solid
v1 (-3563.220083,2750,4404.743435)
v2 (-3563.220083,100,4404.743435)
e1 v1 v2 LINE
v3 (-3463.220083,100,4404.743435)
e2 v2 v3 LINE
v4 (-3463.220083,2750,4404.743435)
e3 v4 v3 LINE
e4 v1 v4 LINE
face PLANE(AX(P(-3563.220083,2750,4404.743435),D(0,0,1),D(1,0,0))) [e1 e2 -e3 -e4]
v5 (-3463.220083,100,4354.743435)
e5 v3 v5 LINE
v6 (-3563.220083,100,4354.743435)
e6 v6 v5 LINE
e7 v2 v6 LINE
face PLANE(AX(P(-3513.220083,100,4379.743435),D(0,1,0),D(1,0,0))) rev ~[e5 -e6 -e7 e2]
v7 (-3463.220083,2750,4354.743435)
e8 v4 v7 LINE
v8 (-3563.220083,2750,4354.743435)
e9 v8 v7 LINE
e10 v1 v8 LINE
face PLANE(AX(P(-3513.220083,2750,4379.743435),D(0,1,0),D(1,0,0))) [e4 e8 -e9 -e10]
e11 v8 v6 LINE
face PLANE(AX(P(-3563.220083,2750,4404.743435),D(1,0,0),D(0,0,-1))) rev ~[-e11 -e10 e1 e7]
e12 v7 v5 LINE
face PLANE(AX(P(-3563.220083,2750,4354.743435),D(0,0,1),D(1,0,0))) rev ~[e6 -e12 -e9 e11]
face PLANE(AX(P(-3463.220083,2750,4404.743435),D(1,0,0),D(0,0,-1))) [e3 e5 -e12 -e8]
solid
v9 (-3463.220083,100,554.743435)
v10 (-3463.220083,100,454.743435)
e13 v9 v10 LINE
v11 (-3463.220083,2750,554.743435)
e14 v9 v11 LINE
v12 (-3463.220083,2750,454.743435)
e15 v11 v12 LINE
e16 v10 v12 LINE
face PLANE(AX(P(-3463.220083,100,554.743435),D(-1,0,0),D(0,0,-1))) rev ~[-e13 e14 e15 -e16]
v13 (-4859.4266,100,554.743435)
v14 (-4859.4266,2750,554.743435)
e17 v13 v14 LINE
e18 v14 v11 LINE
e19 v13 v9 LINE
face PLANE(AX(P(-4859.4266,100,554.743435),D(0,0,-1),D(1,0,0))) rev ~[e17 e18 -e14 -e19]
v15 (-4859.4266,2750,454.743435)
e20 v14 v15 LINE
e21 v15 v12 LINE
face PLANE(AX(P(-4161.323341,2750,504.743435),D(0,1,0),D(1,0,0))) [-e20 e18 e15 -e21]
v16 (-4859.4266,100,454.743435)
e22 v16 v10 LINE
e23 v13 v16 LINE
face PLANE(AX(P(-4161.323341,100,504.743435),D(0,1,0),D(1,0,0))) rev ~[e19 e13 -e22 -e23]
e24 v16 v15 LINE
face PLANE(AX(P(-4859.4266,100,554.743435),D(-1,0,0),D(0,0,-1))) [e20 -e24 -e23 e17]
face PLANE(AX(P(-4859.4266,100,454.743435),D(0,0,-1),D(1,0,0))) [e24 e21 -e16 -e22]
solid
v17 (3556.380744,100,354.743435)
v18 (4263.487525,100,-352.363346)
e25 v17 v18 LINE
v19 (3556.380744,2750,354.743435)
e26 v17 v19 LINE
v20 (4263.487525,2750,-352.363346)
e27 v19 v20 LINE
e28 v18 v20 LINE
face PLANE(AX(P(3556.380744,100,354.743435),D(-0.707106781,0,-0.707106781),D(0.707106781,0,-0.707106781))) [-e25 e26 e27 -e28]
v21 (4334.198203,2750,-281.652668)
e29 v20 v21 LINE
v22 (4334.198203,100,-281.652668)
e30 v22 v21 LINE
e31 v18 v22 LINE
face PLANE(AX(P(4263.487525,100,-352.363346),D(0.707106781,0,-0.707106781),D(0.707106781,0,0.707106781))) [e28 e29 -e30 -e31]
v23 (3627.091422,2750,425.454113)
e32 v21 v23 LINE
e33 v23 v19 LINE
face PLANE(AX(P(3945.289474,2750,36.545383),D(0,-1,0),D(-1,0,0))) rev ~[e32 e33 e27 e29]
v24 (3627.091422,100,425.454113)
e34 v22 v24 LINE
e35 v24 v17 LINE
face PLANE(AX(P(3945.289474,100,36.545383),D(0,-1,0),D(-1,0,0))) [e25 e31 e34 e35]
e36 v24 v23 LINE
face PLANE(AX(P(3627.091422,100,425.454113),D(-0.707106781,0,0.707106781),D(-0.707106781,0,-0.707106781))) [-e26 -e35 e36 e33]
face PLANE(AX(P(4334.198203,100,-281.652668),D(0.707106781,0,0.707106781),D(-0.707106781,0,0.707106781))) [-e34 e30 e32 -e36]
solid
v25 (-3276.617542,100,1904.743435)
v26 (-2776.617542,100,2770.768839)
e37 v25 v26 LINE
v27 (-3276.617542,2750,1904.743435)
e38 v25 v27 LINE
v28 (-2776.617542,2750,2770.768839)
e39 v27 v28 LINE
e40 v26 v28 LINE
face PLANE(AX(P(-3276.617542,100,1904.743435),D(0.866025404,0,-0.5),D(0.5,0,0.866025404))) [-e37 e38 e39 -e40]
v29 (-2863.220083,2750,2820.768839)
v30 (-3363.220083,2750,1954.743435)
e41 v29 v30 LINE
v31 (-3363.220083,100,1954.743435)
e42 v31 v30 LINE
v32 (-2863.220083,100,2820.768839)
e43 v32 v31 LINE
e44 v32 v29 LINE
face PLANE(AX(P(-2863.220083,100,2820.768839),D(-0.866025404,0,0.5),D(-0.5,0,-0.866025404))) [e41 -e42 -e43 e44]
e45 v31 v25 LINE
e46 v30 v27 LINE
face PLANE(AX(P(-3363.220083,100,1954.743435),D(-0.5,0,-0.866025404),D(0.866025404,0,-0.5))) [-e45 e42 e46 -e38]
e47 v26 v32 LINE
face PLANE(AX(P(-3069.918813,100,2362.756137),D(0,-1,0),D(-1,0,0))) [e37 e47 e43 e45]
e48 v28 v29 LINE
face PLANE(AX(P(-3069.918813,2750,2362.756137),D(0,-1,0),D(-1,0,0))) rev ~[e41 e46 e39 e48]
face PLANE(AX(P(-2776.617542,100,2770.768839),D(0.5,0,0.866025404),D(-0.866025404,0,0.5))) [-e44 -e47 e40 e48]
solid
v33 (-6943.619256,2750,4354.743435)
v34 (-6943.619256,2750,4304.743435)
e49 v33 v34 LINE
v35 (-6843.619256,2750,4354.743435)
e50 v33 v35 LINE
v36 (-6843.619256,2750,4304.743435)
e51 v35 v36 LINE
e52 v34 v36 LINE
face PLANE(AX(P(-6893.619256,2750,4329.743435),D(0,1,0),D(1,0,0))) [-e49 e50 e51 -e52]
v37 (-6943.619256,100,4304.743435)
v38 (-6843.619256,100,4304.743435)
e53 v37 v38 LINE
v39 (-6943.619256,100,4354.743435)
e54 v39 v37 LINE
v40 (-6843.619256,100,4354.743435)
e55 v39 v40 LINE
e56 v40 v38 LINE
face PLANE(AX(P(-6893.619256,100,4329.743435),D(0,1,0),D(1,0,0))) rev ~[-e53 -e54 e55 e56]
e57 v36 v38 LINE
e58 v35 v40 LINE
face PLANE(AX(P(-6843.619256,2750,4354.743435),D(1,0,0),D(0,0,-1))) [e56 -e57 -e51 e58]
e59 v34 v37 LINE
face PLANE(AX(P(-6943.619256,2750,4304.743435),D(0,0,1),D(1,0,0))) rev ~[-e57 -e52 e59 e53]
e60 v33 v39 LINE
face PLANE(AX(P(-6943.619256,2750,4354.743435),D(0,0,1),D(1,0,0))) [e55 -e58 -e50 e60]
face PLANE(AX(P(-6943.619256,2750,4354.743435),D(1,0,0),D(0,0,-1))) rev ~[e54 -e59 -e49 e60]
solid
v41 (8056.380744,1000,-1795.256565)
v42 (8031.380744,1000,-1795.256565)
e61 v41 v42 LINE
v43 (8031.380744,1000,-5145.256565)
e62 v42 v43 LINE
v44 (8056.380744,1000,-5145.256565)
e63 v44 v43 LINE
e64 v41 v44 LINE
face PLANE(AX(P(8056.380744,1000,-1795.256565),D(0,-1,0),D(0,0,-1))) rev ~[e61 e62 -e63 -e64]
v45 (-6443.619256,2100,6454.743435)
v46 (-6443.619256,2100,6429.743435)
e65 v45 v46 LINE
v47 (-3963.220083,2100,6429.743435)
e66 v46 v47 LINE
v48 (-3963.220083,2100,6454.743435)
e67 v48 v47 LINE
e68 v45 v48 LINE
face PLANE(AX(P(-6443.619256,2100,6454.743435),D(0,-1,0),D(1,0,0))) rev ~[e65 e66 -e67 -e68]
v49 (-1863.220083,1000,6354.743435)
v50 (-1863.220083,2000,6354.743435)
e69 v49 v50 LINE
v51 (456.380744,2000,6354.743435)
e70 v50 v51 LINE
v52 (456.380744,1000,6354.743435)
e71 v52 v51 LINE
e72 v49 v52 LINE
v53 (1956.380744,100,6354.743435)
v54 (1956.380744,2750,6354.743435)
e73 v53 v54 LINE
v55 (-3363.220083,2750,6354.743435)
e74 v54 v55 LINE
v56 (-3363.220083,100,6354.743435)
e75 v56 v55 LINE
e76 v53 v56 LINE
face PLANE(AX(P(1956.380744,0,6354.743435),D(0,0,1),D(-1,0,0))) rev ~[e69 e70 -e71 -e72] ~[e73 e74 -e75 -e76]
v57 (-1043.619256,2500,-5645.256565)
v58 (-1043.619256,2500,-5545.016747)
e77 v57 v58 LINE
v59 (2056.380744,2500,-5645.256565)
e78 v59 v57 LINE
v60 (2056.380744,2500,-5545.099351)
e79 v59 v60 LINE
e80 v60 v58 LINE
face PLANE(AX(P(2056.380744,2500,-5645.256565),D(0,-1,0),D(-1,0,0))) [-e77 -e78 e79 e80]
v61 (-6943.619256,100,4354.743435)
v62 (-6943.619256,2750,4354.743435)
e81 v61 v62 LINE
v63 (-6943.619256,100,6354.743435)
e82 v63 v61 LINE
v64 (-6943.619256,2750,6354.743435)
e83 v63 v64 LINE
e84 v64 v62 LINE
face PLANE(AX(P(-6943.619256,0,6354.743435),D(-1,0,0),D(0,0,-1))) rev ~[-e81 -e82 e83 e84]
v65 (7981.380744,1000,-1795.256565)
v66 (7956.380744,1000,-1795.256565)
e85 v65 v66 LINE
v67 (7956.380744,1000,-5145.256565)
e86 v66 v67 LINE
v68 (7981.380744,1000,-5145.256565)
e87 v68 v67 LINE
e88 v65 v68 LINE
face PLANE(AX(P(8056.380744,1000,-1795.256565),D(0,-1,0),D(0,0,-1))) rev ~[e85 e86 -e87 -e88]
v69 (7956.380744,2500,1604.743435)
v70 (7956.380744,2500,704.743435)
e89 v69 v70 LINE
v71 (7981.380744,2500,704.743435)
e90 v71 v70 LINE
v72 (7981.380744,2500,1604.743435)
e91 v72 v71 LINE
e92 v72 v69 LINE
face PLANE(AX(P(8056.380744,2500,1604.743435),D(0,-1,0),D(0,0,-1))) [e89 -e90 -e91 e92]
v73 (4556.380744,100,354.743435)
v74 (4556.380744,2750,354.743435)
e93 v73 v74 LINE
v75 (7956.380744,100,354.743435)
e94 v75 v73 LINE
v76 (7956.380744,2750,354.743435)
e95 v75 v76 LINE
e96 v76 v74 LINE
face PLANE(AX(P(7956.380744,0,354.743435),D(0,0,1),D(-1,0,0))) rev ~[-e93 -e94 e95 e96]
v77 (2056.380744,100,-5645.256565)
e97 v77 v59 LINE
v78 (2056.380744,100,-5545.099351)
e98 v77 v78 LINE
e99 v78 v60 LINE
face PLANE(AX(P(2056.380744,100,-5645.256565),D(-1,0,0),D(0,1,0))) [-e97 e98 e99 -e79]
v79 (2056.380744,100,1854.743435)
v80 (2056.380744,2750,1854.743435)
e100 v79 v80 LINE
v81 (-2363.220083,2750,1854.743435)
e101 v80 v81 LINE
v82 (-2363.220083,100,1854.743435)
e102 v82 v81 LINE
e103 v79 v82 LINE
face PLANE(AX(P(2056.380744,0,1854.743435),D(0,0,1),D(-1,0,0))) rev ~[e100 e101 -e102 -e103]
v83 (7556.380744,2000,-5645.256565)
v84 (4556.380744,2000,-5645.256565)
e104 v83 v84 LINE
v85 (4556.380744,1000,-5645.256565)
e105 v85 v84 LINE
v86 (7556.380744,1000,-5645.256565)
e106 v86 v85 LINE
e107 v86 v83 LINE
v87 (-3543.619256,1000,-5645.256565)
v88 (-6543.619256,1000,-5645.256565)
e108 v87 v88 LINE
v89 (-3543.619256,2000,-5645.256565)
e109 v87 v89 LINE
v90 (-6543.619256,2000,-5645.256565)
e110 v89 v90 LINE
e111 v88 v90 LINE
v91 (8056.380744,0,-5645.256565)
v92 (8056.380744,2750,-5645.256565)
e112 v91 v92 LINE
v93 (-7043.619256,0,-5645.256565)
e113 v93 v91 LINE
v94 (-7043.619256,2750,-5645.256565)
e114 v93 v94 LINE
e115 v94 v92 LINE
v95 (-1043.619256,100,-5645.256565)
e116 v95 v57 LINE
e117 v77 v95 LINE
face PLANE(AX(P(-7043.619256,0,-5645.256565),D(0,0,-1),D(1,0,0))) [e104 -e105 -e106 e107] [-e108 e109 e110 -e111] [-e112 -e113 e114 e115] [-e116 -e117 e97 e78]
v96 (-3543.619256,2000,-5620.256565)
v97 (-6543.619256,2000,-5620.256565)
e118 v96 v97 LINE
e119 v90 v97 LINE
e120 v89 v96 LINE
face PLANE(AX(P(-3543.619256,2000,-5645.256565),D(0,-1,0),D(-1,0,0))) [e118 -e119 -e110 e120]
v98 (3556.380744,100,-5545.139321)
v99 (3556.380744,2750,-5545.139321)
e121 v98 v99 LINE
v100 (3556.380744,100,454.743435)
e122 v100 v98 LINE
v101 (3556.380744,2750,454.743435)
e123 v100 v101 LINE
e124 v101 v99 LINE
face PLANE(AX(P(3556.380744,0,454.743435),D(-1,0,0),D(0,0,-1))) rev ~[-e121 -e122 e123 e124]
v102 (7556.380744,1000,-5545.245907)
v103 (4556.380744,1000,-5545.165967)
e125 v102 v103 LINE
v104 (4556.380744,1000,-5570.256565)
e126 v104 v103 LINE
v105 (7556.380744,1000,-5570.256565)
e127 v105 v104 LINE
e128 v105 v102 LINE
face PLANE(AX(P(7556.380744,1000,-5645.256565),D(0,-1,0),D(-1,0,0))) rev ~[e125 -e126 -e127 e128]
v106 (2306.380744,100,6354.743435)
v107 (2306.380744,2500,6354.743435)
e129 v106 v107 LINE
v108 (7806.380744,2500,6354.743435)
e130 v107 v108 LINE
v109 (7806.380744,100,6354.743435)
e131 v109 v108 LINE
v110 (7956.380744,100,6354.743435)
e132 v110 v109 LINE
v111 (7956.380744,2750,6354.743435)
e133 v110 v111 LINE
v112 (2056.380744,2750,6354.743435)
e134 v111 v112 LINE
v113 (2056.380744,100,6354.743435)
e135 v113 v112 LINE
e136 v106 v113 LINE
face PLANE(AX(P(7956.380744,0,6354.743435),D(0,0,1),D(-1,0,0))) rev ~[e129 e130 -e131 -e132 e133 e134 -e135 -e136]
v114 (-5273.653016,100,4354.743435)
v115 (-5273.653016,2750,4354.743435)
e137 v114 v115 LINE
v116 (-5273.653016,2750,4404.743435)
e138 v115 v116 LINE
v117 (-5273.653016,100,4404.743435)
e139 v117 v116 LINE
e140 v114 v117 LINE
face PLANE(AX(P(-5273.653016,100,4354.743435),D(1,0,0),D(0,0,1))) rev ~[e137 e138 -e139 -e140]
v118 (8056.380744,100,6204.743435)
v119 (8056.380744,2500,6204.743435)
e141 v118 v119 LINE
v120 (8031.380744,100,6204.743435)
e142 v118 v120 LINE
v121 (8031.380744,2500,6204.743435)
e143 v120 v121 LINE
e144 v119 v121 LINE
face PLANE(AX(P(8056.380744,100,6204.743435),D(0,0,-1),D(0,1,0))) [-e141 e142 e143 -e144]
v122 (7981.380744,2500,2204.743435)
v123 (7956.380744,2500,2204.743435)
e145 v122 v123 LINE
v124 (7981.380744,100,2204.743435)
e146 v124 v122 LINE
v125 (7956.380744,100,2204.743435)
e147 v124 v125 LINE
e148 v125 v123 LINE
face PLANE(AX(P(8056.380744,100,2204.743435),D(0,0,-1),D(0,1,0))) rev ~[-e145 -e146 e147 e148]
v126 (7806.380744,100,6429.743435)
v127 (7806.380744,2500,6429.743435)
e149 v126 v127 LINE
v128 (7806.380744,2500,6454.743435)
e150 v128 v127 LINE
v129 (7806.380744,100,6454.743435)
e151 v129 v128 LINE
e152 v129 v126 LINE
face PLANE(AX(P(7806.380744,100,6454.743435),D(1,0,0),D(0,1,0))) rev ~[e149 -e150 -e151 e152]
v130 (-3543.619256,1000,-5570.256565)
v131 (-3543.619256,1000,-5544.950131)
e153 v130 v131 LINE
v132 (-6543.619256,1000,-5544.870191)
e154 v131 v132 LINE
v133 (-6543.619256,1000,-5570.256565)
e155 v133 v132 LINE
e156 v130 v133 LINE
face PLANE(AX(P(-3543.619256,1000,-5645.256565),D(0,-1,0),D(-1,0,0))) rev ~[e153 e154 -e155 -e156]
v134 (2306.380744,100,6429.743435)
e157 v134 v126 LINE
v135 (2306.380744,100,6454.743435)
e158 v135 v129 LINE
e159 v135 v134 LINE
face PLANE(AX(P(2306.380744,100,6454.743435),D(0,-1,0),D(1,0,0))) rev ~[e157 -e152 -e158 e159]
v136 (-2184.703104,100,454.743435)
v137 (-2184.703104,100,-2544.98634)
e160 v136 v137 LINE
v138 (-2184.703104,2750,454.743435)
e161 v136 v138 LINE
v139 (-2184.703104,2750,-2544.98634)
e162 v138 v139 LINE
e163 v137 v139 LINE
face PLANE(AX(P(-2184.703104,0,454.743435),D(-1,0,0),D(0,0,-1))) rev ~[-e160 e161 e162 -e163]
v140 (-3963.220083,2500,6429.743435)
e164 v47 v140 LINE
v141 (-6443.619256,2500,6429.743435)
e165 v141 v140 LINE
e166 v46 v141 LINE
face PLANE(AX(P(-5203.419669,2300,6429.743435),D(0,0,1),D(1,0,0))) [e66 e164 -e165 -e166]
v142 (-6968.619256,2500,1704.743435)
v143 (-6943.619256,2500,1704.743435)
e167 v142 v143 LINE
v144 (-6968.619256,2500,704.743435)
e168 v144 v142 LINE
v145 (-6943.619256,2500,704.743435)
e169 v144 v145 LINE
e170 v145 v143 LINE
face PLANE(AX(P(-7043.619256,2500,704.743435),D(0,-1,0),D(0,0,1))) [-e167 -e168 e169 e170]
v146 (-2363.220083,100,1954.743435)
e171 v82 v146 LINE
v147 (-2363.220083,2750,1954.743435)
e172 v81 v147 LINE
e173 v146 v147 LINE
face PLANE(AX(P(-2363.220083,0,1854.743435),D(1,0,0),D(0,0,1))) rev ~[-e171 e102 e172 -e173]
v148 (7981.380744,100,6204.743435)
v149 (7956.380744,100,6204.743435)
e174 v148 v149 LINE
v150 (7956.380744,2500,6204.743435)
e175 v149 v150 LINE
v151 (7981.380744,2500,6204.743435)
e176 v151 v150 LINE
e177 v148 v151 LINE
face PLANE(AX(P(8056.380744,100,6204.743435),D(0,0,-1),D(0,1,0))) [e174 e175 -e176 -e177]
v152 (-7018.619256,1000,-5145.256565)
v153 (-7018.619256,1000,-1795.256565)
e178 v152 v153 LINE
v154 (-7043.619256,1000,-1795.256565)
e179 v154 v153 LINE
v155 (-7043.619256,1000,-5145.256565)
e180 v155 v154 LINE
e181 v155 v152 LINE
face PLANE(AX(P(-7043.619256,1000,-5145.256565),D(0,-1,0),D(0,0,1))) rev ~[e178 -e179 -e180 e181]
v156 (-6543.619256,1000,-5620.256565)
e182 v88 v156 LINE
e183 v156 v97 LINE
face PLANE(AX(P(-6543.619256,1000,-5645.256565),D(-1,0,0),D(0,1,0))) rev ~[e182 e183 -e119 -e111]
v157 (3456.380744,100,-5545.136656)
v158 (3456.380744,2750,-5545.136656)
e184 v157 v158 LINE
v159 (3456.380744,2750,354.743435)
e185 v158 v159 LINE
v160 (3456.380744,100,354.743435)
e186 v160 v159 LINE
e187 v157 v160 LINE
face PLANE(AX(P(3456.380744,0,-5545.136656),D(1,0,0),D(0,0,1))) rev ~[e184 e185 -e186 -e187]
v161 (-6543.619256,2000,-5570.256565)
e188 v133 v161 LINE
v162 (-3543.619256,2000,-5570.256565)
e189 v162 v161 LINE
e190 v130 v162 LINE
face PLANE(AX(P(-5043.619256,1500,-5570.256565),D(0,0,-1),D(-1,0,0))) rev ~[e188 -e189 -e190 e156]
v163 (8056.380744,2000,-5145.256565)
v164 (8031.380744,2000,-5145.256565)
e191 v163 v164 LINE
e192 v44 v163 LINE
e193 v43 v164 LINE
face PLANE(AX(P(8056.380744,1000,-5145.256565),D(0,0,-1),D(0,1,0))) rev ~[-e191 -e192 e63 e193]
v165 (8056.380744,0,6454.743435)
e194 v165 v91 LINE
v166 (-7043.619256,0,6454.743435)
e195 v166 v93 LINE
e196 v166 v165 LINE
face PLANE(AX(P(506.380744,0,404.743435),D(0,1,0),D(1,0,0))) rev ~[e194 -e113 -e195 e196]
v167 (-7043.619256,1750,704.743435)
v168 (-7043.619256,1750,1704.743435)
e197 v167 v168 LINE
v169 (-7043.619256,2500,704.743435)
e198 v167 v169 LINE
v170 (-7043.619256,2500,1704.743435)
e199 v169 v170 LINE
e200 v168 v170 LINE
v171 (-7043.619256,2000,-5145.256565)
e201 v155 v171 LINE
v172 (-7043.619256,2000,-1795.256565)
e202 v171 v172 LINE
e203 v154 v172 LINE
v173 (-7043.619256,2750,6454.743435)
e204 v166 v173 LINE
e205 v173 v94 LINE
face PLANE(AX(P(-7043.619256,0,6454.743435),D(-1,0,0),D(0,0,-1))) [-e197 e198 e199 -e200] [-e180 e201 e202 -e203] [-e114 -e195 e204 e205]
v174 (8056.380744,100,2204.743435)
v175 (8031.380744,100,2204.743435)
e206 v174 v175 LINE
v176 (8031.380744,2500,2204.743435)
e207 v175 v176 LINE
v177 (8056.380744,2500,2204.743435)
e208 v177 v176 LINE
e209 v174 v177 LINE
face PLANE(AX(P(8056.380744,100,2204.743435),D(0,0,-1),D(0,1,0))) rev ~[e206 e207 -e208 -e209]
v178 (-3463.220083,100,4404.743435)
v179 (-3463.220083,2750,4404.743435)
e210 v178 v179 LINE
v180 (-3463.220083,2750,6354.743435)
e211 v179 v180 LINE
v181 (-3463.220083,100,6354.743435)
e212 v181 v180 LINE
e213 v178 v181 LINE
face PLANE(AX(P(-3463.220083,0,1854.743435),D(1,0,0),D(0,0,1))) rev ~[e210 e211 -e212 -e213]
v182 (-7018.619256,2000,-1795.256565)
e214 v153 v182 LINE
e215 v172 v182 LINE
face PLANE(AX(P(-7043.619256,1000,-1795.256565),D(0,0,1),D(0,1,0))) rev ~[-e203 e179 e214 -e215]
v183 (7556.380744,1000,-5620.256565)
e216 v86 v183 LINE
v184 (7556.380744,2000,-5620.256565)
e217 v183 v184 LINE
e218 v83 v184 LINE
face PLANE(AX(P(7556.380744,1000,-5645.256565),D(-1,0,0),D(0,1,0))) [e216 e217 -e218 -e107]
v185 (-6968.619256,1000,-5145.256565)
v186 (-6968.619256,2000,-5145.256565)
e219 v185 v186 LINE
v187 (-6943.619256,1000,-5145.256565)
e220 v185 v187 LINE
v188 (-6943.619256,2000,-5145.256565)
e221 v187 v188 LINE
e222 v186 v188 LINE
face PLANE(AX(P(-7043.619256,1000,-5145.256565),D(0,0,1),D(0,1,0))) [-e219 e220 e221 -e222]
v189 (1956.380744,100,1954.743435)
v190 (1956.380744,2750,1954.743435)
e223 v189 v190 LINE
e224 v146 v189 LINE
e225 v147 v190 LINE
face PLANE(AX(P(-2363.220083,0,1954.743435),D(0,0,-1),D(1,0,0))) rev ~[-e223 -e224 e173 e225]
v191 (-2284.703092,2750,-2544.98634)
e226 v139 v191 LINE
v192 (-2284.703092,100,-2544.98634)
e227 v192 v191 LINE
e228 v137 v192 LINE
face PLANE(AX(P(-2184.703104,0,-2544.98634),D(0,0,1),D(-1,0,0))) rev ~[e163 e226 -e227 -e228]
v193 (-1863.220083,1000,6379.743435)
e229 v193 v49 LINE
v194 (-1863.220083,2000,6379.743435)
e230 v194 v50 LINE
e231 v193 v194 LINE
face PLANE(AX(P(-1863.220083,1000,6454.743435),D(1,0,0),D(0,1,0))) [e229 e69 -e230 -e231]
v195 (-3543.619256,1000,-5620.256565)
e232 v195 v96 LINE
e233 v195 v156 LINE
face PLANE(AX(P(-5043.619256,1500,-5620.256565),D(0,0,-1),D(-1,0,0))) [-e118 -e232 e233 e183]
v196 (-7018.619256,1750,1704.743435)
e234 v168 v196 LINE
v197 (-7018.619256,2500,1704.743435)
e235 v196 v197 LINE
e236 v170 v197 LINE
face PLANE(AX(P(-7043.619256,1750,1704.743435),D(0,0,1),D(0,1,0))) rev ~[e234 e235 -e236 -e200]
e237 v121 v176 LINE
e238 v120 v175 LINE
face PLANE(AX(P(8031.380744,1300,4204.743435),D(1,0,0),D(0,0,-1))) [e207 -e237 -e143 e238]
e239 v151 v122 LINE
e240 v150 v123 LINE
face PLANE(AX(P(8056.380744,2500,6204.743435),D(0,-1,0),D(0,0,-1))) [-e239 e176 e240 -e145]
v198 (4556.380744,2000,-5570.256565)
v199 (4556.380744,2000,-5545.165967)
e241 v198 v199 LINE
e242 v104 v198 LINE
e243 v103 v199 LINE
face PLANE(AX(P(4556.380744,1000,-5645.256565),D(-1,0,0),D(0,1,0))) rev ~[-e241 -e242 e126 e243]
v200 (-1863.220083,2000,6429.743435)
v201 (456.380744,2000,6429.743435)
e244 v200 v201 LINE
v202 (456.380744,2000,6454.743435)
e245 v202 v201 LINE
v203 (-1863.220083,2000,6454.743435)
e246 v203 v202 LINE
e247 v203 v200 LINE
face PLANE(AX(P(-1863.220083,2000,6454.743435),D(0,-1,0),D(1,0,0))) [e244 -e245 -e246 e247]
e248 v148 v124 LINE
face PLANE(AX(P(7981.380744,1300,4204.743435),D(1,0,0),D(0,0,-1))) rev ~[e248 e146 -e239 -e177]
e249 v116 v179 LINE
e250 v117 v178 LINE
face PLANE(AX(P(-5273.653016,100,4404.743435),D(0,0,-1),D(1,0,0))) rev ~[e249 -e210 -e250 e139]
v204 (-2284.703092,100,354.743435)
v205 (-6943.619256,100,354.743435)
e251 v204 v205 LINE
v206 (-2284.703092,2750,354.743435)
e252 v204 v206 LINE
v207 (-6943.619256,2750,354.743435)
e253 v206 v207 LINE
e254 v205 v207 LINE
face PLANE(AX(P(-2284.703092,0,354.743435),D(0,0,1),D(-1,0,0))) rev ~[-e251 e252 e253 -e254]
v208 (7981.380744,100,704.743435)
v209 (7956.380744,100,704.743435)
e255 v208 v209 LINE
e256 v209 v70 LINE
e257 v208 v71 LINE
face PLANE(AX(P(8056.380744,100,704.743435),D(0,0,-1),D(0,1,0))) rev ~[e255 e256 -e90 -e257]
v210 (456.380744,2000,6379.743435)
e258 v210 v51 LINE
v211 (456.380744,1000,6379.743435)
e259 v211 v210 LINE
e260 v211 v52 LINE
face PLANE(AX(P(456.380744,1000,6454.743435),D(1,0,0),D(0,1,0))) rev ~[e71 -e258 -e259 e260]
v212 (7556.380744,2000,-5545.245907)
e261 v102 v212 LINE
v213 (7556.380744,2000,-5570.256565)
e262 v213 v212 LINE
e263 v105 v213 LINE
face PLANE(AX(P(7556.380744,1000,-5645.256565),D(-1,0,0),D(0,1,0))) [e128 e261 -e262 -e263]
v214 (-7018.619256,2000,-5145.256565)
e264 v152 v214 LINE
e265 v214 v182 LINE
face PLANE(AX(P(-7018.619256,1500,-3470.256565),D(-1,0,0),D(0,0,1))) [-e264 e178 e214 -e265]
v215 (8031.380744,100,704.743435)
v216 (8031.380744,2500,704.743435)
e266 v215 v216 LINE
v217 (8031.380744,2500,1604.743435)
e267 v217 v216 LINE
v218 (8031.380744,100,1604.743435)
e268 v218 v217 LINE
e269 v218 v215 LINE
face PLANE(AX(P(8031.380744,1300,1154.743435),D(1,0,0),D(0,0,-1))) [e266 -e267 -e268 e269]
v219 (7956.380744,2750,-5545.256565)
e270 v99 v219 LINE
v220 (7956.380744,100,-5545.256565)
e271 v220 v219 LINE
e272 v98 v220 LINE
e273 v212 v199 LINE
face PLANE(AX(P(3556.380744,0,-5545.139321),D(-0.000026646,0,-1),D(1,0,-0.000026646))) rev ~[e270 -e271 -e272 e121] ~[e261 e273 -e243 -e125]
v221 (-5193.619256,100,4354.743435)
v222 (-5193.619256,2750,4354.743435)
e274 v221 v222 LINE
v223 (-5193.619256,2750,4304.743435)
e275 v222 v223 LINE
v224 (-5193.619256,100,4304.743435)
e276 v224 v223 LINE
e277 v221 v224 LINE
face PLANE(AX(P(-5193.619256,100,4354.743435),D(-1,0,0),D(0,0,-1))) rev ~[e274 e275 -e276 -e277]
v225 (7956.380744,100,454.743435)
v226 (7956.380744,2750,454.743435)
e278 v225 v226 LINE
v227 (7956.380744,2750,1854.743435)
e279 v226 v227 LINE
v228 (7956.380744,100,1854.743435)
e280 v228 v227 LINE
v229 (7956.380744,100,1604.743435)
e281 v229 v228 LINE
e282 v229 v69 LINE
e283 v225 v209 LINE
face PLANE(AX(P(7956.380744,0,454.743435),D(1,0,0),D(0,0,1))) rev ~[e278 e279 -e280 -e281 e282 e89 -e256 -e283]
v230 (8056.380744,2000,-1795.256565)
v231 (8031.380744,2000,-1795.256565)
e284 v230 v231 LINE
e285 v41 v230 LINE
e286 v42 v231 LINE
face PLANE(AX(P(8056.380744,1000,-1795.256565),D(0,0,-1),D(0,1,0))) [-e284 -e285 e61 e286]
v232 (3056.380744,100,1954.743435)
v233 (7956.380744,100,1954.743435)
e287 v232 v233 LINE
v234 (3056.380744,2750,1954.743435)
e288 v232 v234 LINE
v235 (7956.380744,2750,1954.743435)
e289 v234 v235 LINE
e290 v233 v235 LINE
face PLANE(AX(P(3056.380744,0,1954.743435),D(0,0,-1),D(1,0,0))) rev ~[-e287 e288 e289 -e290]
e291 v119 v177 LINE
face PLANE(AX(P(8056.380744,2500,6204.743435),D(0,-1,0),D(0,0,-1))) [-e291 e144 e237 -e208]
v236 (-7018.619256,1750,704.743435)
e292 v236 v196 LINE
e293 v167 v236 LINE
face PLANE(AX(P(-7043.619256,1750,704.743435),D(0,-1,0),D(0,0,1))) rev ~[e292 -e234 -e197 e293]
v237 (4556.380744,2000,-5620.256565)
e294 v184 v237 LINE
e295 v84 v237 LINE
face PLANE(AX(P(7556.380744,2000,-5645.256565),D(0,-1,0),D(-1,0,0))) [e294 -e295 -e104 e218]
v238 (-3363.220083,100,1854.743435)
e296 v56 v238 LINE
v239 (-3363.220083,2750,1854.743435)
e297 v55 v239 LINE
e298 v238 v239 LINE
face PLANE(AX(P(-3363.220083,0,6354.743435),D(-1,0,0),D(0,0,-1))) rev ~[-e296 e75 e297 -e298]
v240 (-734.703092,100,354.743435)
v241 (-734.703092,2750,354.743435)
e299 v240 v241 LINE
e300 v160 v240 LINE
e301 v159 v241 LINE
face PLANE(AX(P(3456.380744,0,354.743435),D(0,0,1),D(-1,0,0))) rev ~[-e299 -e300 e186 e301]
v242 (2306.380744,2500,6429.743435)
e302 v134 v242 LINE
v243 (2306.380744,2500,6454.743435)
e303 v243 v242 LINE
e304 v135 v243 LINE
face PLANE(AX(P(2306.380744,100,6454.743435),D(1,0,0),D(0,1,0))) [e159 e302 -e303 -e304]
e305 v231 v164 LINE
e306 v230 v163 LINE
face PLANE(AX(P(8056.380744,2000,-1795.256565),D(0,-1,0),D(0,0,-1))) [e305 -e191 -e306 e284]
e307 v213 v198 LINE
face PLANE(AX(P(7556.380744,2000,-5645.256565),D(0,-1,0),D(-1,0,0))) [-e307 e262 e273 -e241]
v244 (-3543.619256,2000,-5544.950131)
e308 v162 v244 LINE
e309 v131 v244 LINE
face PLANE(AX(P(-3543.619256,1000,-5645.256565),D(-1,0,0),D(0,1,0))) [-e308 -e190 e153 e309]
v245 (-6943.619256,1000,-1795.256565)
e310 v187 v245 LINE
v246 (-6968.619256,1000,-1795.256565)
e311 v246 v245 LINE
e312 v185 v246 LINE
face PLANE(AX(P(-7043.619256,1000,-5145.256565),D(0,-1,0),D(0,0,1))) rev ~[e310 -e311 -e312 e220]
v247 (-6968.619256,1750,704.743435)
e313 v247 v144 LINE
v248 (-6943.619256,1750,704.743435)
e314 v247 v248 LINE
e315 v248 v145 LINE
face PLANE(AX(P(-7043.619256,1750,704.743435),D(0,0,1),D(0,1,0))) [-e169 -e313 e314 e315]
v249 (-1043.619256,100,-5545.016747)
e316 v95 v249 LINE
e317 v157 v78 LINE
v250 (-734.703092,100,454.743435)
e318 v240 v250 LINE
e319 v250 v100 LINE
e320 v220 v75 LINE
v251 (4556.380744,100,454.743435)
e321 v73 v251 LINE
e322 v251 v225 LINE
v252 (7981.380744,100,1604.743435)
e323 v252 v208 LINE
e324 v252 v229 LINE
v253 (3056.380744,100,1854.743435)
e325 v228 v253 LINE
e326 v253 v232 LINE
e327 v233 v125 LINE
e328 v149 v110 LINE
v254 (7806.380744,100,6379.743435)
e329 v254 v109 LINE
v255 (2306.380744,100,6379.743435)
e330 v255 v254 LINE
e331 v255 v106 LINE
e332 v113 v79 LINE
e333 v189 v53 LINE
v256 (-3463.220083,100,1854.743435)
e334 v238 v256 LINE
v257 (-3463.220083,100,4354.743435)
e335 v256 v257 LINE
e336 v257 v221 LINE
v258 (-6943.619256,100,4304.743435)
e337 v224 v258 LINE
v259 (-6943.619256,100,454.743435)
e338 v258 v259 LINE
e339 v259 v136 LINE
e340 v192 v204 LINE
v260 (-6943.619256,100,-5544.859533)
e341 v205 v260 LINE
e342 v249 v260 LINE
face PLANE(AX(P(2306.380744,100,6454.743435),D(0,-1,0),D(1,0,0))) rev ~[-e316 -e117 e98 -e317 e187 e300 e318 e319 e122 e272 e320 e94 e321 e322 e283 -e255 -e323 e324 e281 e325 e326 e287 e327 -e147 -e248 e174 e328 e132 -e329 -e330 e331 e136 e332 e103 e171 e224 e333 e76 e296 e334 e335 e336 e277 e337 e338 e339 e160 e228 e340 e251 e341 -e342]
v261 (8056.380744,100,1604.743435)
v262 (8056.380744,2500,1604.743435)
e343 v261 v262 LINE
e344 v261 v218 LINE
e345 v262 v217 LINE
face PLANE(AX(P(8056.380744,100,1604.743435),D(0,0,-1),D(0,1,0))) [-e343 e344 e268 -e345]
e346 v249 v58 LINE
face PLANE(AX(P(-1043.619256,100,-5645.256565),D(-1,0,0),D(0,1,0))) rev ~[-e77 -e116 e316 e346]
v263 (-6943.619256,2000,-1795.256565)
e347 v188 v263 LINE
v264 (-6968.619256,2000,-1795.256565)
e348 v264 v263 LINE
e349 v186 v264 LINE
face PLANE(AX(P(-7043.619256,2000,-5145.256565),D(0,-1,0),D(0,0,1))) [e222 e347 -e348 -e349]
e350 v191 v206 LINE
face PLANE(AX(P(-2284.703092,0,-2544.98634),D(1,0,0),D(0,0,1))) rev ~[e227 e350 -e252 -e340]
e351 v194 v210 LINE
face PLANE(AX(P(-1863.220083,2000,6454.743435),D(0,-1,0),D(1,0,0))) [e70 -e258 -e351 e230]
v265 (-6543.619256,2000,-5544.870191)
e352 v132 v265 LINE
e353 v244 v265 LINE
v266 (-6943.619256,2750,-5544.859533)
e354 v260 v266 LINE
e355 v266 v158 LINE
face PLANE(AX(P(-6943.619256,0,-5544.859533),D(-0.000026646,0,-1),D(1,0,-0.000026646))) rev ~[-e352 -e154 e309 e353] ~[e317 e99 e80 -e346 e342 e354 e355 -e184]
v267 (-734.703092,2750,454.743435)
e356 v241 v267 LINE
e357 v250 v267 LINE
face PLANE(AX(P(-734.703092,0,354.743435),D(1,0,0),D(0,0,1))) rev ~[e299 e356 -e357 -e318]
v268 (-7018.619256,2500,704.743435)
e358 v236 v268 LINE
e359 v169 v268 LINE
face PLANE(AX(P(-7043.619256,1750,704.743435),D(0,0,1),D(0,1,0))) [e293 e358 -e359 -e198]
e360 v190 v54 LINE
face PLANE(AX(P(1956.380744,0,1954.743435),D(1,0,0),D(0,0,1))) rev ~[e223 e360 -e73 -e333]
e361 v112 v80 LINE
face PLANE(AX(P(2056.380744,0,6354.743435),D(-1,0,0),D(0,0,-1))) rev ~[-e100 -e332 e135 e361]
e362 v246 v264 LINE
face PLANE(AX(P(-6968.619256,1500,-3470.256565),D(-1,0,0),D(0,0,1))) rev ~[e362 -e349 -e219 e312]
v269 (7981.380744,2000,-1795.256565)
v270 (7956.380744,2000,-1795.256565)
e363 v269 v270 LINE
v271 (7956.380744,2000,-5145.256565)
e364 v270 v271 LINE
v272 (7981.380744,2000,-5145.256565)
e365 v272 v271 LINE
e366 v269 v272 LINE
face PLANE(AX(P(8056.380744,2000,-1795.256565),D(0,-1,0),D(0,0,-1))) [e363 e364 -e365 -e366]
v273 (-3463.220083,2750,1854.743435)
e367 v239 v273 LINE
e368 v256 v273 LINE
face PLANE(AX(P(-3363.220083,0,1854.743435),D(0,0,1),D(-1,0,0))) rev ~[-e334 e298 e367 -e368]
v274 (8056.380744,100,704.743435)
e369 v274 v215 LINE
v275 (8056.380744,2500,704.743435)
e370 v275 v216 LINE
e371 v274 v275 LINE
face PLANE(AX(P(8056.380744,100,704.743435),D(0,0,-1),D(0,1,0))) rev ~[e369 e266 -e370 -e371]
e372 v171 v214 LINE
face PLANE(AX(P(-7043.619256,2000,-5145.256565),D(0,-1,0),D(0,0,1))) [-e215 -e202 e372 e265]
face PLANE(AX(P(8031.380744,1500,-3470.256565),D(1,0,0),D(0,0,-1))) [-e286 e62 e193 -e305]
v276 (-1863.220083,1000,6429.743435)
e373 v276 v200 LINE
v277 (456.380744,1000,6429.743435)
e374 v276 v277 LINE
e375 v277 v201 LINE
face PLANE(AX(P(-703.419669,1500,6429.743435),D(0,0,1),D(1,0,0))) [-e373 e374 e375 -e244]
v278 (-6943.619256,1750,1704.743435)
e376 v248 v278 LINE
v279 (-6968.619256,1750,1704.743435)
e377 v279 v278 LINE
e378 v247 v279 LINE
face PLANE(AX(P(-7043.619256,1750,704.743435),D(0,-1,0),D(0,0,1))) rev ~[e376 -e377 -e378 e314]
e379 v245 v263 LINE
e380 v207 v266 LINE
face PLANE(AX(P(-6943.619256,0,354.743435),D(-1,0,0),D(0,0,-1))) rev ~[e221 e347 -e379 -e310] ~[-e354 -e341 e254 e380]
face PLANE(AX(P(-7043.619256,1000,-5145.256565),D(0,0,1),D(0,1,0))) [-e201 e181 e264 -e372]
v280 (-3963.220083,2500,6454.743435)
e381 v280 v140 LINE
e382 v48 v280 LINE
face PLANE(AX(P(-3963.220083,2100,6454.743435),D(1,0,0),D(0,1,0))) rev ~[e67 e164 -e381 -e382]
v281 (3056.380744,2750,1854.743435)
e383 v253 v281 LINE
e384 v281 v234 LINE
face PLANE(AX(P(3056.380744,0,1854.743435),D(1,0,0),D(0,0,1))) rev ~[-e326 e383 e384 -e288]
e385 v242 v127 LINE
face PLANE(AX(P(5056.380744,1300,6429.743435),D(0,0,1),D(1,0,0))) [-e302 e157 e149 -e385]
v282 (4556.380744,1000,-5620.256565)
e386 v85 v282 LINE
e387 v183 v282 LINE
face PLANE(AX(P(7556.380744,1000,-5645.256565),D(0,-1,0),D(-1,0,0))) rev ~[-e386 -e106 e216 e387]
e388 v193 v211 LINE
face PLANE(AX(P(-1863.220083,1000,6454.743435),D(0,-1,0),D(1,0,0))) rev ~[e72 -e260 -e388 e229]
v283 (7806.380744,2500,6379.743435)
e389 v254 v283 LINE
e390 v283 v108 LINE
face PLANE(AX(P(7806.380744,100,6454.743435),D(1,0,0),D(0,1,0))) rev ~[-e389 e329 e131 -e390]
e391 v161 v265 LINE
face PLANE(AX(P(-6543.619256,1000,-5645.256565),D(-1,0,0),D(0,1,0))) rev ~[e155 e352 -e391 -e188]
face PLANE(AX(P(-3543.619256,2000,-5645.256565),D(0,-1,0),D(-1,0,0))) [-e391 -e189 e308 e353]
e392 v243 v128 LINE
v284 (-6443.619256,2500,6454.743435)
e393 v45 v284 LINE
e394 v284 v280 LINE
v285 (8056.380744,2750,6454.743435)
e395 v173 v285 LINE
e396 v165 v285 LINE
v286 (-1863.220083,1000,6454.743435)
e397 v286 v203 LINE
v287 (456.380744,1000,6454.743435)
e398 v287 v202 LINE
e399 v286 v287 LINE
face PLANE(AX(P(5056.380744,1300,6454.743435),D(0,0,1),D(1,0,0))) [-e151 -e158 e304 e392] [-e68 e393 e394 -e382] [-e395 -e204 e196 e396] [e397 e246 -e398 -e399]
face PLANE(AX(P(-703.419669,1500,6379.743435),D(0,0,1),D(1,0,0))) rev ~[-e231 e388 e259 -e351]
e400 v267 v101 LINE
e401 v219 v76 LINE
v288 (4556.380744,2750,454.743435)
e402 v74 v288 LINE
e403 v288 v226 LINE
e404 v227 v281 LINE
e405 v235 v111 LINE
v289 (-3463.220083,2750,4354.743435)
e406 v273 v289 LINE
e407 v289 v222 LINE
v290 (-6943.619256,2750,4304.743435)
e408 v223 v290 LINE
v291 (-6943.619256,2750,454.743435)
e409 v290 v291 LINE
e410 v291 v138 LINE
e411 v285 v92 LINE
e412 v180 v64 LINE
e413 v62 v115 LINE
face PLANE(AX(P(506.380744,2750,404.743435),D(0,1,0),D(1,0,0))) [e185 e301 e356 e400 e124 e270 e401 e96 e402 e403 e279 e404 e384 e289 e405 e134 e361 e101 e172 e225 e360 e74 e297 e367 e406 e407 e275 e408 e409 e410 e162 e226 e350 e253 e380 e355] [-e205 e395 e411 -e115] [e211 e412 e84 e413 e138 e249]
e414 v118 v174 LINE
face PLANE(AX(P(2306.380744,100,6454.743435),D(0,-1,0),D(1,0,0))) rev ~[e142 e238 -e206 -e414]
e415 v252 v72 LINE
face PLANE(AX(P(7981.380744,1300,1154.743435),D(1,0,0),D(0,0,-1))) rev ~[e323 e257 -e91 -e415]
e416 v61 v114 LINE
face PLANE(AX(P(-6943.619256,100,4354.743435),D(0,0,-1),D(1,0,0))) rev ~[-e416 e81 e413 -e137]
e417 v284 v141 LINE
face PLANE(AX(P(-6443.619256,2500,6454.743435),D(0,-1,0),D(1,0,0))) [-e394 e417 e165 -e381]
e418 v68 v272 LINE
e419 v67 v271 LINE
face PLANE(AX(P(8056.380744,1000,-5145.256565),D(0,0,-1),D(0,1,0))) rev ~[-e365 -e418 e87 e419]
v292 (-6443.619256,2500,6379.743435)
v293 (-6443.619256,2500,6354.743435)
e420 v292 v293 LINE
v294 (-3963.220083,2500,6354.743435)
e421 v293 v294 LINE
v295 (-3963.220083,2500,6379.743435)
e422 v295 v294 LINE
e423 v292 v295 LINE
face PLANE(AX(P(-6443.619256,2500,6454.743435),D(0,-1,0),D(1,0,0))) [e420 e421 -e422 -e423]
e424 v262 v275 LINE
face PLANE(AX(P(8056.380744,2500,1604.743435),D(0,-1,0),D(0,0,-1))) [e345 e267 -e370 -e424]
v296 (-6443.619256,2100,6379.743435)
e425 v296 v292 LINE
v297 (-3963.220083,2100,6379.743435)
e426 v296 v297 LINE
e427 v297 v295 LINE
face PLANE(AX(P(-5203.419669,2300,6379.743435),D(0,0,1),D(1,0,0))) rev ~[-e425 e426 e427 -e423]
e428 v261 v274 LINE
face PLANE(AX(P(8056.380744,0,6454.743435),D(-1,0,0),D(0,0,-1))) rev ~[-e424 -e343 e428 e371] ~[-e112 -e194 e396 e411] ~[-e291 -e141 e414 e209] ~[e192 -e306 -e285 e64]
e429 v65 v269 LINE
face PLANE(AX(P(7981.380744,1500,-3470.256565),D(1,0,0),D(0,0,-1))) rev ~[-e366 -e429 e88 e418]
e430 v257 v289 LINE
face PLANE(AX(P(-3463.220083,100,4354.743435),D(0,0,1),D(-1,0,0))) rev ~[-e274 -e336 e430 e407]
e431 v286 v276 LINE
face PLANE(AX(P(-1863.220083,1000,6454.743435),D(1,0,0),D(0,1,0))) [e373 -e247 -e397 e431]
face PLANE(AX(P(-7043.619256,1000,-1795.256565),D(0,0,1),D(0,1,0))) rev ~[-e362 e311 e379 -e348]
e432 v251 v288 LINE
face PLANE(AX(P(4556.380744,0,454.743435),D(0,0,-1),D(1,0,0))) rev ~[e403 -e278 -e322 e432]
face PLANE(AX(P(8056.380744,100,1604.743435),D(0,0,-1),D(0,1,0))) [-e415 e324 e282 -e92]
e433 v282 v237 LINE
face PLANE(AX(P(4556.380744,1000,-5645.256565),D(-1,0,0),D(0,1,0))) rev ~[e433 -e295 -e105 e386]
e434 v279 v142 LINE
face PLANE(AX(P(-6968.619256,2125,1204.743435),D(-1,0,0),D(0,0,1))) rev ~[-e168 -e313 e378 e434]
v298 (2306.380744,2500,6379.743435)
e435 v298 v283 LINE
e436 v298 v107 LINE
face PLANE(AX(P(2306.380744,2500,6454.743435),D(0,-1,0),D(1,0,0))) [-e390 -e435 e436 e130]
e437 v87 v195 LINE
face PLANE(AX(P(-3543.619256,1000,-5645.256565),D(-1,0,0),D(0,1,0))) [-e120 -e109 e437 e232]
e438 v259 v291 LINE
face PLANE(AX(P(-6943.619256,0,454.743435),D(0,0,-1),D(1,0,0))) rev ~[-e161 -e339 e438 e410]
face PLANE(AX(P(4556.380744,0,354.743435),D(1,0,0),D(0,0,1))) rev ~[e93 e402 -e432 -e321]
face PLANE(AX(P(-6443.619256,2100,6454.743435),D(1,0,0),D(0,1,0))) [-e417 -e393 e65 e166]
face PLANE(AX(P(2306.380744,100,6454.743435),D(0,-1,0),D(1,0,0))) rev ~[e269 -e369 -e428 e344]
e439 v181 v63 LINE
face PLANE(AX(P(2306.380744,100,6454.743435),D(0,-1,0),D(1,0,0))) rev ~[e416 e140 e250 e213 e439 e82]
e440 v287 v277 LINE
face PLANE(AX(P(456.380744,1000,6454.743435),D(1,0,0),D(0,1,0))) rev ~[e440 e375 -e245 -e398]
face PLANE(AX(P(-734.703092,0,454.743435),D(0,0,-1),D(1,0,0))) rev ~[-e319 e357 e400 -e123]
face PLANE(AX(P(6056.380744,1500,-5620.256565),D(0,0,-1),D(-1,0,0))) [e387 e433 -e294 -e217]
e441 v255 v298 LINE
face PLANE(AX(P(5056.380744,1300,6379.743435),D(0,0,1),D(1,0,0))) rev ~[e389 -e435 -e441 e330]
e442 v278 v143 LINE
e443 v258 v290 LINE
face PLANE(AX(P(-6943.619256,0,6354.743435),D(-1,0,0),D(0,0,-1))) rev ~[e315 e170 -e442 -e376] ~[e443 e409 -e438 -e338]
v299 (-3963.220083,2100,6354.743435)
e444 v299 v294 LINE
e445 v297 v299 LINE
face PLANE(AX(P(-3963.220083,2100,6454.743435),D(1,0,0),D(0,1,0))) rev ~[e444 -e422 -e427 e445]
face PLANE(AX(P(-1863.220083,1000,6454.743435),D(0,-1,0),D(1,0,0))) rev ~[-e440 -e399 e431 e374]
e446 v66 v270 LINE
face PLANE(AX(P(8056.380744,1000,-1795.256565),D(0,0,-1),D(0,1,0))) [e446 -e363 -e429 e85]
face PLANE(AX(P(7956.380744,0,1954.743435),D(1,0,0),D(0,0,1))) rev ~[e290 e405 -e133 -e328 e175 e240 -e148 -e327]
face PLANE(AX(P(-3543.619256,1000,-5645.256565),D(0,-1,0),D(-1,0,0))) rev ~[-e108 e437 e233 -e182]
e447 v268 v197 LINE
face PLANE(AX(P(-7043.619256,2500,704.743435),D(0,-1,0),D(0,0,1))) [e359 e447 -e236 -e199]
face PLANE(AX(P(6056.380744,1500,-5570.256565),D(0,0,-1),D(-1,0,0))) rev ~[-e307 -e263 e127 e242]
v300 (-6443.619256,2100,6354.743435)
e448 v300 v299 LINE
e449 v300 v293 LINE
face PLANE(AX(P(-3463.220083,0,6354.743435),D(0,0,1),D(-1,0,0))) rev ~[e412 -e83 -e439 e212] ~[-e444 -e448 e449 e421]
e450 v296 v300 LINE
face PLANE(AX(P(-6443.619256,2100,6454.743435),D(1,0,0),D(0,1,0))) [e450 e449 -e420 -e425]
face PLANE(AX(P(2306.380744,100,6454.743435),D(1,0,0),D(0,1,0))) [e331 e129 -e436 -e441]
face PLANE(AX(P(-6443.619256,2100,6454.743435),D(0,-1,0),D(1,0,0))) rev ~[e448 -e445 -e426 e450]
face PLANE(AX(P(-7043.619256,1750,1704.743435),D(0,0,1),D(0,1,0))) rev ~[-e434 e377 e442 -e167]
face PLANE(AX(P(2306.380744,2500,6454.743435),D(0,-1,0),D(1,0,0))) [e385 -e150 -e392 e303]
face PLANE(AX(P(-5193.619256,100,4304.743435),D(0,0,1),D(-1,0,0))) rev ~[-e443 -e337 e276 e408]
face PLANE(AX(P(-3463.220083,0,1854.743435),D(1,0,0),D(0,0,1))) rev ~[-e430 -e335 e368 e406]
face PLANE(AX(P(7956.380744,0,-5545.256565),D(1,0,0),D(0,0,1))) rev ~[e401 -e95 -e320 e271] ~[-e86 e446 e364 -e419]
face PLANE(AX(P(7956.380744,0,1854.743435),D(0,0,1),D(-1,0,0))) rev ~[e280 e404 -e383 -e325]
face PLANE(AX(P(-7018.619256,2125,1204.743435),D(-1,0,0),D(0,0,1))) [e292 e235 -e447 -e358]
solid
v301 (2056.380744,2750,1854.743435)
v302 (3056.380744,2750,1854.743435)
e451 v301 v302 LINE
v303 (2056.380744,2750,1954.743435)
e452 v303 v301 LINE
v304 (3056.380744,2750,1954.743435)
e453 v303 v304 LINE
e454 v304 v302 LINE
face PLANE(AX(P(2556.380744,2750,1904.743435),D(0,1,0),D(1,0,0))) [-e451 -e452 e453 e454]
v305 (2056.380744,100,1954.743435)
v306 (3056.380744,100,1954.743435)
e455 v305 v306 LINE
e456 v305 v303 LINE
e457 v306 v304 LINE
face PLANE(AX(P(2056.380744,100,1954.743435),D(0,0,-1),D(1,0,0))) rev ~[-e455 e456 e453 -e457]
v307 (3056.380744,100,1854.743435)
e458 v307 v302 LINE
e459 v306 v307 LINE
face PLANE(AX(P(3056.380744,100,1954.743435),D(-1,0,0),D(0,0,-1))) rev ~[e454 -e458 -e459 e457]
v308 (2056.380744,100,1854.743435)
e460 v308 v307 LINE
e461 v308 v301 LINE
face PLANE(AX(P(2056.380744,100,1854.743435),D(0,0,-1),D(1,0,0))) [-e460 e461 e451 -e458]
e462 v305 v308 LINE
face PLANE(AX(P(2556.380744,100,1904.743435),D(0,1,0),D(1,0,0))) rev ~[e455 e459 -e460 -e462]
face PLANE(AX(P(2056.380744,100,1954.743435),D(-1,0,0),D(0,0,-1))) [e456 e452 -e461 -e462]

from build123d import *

# Parameters (mm, degrees)
BOSS_EXTRUDE1_DEPTH    = 100
SKETCH1_7_W            = 15100
SKETCH1_7_H            = 12100
BOSS_EXTRUDE2_DEPTH    = 2750
SKETCH2_W              = 900
SKETCH2_H              = 2400
CUT_EXTRUDE1_DEPTH     = 100
SKETCH3_W              = 3100
SKETCH3_H              = 2400
CUT_EXTRUDE2_DEPTH     = 200
SKETCH4_W              = 3000
SKETCH4_H              = 1000
CUT_EXTRUDE3_DEPTH     = 250
SKETCH5_W              = 3000
SKETCH5_H              = 1000
CUT_EXTRUDE4_DEPTH     = 250
SKETCH6_W              = 4000
SKETCH6_H              = 2400
SKETCH6_W_2            = 3350
SKETCH6_H_2            = 1000
CUT_EXTRUDE5_DEPTH     = 250
SKETCH7_W              = 5500
SKETCH7_H              = 2400
SKETCH7_W_2            = 2319.600826821
SKETCH7_H_2            = 1000
SKETCH7_W_3            = 2480.399173179
SKETCH7_H_3            = 400
CUT_EXTRUDE6_DEPTH     = 250
SKETCH9_W              = 3350
SKETCH9_H              = 1000
SKETCH9_W_2            = 1000
SKETCH9_H_2            = 750
CUT_EXTRUDE7_DEPTH     = 250
SKETCH10_W             = 5500
SKETCH10_H             = 2400
SKETCH10_W_2           = 2319.600826821
SKETCH10_H_2           = 1000
SKETCH10_W_3           = 2480.399173179
SKETCH10_H_3           = 400
BOSS_EXTRUDE3_DEPTH    = 75
SKETCH10_3_W           = 5500
SKETCH10_3_H           = 2400
SKETCH10_3_W_2         = 2319.600826821
SKETCH10_3_H_2         = 1000
SKETCH10_3_W_3         = 2480.399173179
SKETCH10_3_H_3         = 400
CUT_EXTRUDE8_DEPTH     = 25
BOSS_EXTRUDE4_START    = -25
SKETCH11_W             = 3350
SKETCH11_H             = 1000
SKETCH11_W_2           = 4000
SKETCH11_H_2           = 2400
SKETCH11_W_3           = 900
BOSS_EXTRUDE4_DEPTH    = 50
BOSS_EXTRUDE5_START    = -25
SKETCH12_W             = 1000
SKETCH12_H             = 750
SKETCH12_W_2           = 3350
SKETCH12_H_2           = 1000
BOSS_EXTRUDE5_DEPTH    = 50
BOSS_EXTRUDE6_START    = -25
SKETCH13_W             = 3000
SKETCH13_H             = 1000
BOSS_EXTRUDE6_DEPTH    = 50
BOSS_EXTRUDE9_DEPTH    = 2650
BOSS_EXTRUDE9_2_DEPTH  = 2650
SKETCH14_W             = 1000
SKETCH14_H             = 100
BOSS_EXTRUDE9_3_DEPTH  = 2650
SKETCH14_W_2           = 1396.20651688
BOSS_EXTRUDE9_4_DEPTH  = 2650
BOSS_EXTRUDE10_DEPTH   = 2650
SKETCH16_W             = 100
SKETCH16_H             = 50
BOSS_EXTRUDE12_DEPTH   = 2650
BOSS_EXTRUDE12_2_DEPTH = 2650


with BuildPart() as part:
    # Sketch1 → Boss-Extrude1 (new body)
    with BuildSketch(Plane(origin=(0, 0, 0), x_dir=(1, 0, 0), z_dir=(0, 1, 0))):
        Polygon((7956.380744076, -1854.743434777), (7956.380744076, -454.743434777), (4556.380744076, -454.743434777), (4556.380744076, -354.743434776), (7956.380744076, -354.743434776), (7956.380744076, 5545.256565223), (3556.380744076, 5545.139320681), (3556.380744076, -454.743434776), (-734.703091916, -454.743434776), (-734.703091916, -354.743434777), (3456.380744076, -354.743434777), (3456.380744076, 5545.136656033), (-2184.783043673, 5544.986338836), (-6943.619255924, 5544.85953257), (-6943.619255924, -354.743434777), (-2284.703091916, -354.743434777), (-2284.703091916, 2544.986339901), (-2184.703104212, 2544.986339901), (-2184.703104212, -454.743434777), (-6943.619255924, -454.743434777), (-6943.619255924, -6354.743434777), (-3463.220082745, -6354.743434777), (-3463.220082745, -1854.743434777), (-3363.220082745, -1854.743434777), (-3363.220082745, -6354.743434777), (1956.380744076, -6354.743434777), (1956.380744076, -1954.743434777), (-2363.220082745, -1954.743434777), (-2363.220082745, -1854.743434777), (2056.380744076, -1854.743434777), (2056.380744076, -6354.743434777), (7956.380744076, -6354.743434777), (7956.380744076, -1954.743434777), (3056.380744076, -1954.743434777), (3056.380744076, -1854.743434777), align=None)
    extrude(amount=BOSS_EXTRUDE1_DEPTH)

    # Sketch1<7> → Boss-Extrude2 (add)
    with BuildSketch(Plane(origin=(0, 0, 0), x_dir=(1, 0, 0), z_dir=(0, 1, 0))):
        with Locations((506.380744076, -404.743434777)):
            Rectangle(SKETCH1_7_W, SKETCH1_7_H)
        Polygon((7956.380744076, -454.743434777), (7956.380744076, -1854.743434777), (3056.380744076, -1854.743434777), (3056.380744076, -1954.743434777), (7956.380744076, -1954.743434777), (7956.380744076, -6354.743434777), (2056.380744076, -6354.743434777), (2056.380744076, -1854.743434777), (-2363.220082745, -1854.743434777), (-2363.220082745, -1954.743434777), (1956.380744076, -1954.743434777), (1956.380744076, -6354.743434777), (-3363.220082745, -6354.743434777), (-3363.220082745, -1854.743434777), (-3463.220082745, -1854.743434777), (-3463.220082745, -6354.743434777), (-6943.619255924, -6354.743434777), (-6943.619255924, -454.743434777), (-2184.703104212, -454.743434777), (-2184.703104212, 2544.986339901), (-2284.703091916, 2544.986339901), (-2284.703091916, -354.743434777), (-6943.619255924, -354.743434777), (-6943.619255924, 5544.85953257), (-2184.783043673, 5544.986338836), (3456.380744076, 5545.136656033), (3456.380744076, -354.743434777), (-734.703091916, -354.743434777), (-734.703091916, -454.743434776), (3556.380744076, -454.743434776), (3556.380744076, 5545.139320681), (7956.380744076, 5545.256565223), (7956.380744076, -354.743434776), (4556.380744076, -354.743434776), (4556.380744076, -454.743434777), align=None, mode=Mode.SUBTRACT)
    extrude(amount=BOSS_EXTRUDE2_DEPTH)

    # Sketch2 → Cut-Extrude1 (cut)
    with BuildSketch(Plane(origin=(8056.380744076, 0, 0), x_dir=(0, 0, -1), z_dir=(1, 0, 0))):
        with Locations((-1154.743434777, 1300)):
            Rectangle(SKETCH2_W, SKETCH2_H)
    extrude(amount=-CUT_EXTRUDE1_DEPTH, mode=Mode.SUBTRACT)

    # Sketch3 → Cut-Extrude2 (cut)
    with BuildSketch(Plane(origin=(0, 0, -5645.256565223), x_dir=(-1, 0, 0), z_dir=(0, 0, -1))):
        with Locations((-506.380744076, 1300)):
            Rectangle(SKETCH3_W, SKETCH3_H)
    extrude(amount=-CUT_EXTRUDE2_DEPTH, mode=Mode.SUBTRACT)

    # Sketch4 → Cut-Extrude3 (cut)
    with BuildSketch(Plane(origin=(0, 0, -5645.256565223), x_dir=(-1, 0, 0), z_dir=(0, 0, -1))):
        with Locations((5043.619255924, 1500)):
            Rectangle(SKETCH4_W, SKETCH4_H)
    extrude(amount=-CUT_EXTRUDE3_DEPTH, mode=Mode.SUBTRACT)

    # Sketch5 → Cut-Extrude4 (cut)
    with BuildSketch(Plane(origin=(0, 0, -5645.256565223), x_dir=(-1, 0, 0), z_dir=(0, 0, -1))):
        with Locations((-6056.380744076, 1500)):
            Rectangle(SKETCH5_W, SKETCH5_H)
    extrude(amount=-CUT_EXTRUDE4_DEPTH, mode=Mode.SUBTRACT)

    # Sketch6 → Cut-Extrude5 (cut)
    with BuildSketch(Plane(origin=(8056.380744076, 0, 0), x_dir=(0, 0, -1), z_dir=(1, 0, 0))):
        with Locations((-4204.743434777, 1300)):
            Rectangle(SKETCH6_W, SKETCH6_H)
        with Locations((3470.256565223, 1500)):
            Rectangle(SKETCH6_W_2, SKETCH6_H_2)
    extrude(amount=-CUT_EXTRUDE5_DEPTH, mode=Mode.SUBTRACT)

    # Sketch7 → Cut-Extrude6 (cut)
    with BuildSketch(Plane.XY.offset(6454.743434777)):
        with Locations((5056.380744076, 1300)):
            Rectangle(SKETCH7_W, SKETCH7_H)
        with Locations((-703.419669334, 1500)):
            Rectangle(SKETCH7_W_2, SKETCH7_H_2)
        with Locations((-5203.419669335, 2300)):
            Rectangle(SKETCH7_W_3, SKETCH7_H_3)
    extrude(amount=-CUT_EXTRUDE6_DEPTH, mode=Mode.SUBTRACT)

    # Sketch9 → Cut-Extrude7 (cut)
    with BuildSketch(Plane.ZY.offset(7043.619255924)):
        with Locations((-3470.256565223, 1500)):
            Rectangle(SKETCH9_W, SKETCH9_H)
        with Locations((1204.743434777, 2125)):
            Rectangle(SKETCH9_W_2, SKETCH9_H_2)
    extrude(amount=-CUT_EXTRUDE7_DEPTH, mode=Mode.SUBTRACT)

    # Sketch10 → Boss-Extrude3 (add)
    with BuildSketch(Plane.XY.offset(6454.743434777)):
        with Locations((5056.380744076, 1300)):
            Rectangle(SKETCH10_W, SKETCH10_H)
        with Locations((-703.419669334, 1500)):
            Rectangle(SKETCH10_W_2, SKETCH10_H_2)
        with Locations((-5203.419669335, 2300)):
            Rectangle(SKETCH10_W_3, SKETCH10_H_3)
    extrude(amount=-BOSS_EXTRUDE3_DEPTH)

    # Sketch10<3> → Cut-Extrude8 (cut)
    with BuildSketch(Plane.XY.offset(6454.743434777)):
        with Locations((5056.380744076, 1300)):
            Rectangle(SKETCH10_3_W, SKETCH10_3_H)
        with Locations((-703.419669334, 1500)):
            Rectangle(SKETCH10_3_W_2, SKETCH10_3_H_2)
        with Locations((-5203.419669335, 2300)):
            Rectangle(SKETCH10_3_W_3, SKETCH10_3_H_3)
    extrude(amount=-CUT_EXTRUDE8_DEPTH, mode=Mode.SUBTRACT)

    # Sketch11 → Boss-Extrude4 (add)
    with BuildSketch(Plane(origin=(8056.380744076, 0, 0), x_dir=(0, 0, -1), z_dir=(1, 0, 0)).offset(BOSS_EXTRUDE4_START)):
        with Locations((3470.256565223, 1500)):
            Rectangle(SKETCH11_W, SKETCH11_H)
        with Locations((-4204.743434777, 1300)):
            Rectangle(SKETCH11_W_2, SKETCH11_H_2)
        with Locations((-1154.743434777, 1300)):
            Rectangle(SKETCH11_W_3, SKETCH11_H_2)
    extrude(amount=-BOSS_EXTRUDE4_DEPTH)

    # Sketch12 → Boss-Extrude5 (add)
    with BuildSketch(Plane.ZY.offset(7043.619255924).offset(BOSS_EXTRUDE5_START)):
        with Locations((1204.743434777, 2125)):
            Rectangle(SKETCH12_W, SKETCH12_H)
        with Locations((-3470.256565223, 1500)):
            Rectangle(SKETCH12_W_2, SKETCH12_H_2)
    extrude(amount=-BOSS_EXTRUDE5_DEPTH)

    # Sketch13 → Boss-Extrude6 (add)
    with BuildSketch(Plane(origin=(0, 0, -5645.256565223), x_dir=(-1, 0, 0), z_dir=(0, 0, -1)).offset(BOSS_EXTRUDE6_START)):
        with Locations((-6056.380744076, 1500)):
            Rectangle(SKETCH13_W, SKETCH13_H)
        with Locations((5043.619255924, 1500)):
            Rectangle(SKETCH13_W, SKETCH13_H)
    extrude(amount=-BOSS_EXTRUDE6_DEPTH)

    # Sketch15 → Boss-Extrude10 (add)
    with BuildSketch(Plane(origin=(0, 100, 0), x_dir=(1, 0, 0), z_dir=(0, 1, 0))):
        Polygon((-6943.619255924, -4354.743434777), (-5273.653015998, -4354.743434777), (-5273.653015998, -4404.743434777), (-5193.619255924, -4404.743434777), (-3463.220082745, -4404.743434777), (-3463.220082745, -4354.743434777), (-5193.619255924, -4354.743434777), (-5193.619255924, -4304.743434777), (-6943.619255924, -4304.743434777), align=None)
    extrude(amount=BOSS_EXTRUDE10_DEPTH)


with BuildPart() as body_2:
    # Sketch14 → Boss-Extrude9 (new body)
    with BuildSketch(Plane(origin=(0, 100, 0), x_dir=(1, 0, 0), z_dir=(0, 1, 0))):
        Polygon((-3363.220082745, -1954.743434777), (-3276.617542367, -1904.743434777), (-2776.617542367, -2770.768838561), (-2863.220082745, -2820.768838561), align=None)
    extrude(amount=BOSS_EXTRUDE9_DEPTH)


with BuildPart() as body_3:
    # Sketch14 → Boss-Extrude9 2 (new body)
    with BuildSketch(Plane(origin=(0, 100, 0), x_dir=(1, 0, 0), z_dir=(0, 1, 0))):
        Polygon((3627.091422195, -425.454112895), (3556.380744076, -354.743434776), (4263.487525262, 352.36334641), (4334.198203381, 281.652668291), align=None)
    extrude(amount=BOSS_EXTRUDE9_2_DEPTH)


with BuildPart() as body_4:
    # Sketch14 → Boss-Extrude9 3 (new body)
    with BuildSketch(Plane(origin=(0, 100, 0), x_dir=(1, 0, 0), z_dir=(0, 1, 0))):
        with Locations((2556.380744076, -1904.743434777)):
            Rectangle(SKETCH14_W, SKETCH14_H)
    extrude(amount=BOSS_EXTRUDE9_3_DEPTH)


with BuildPart() as body_5:
    # Sketch14 → Boss-Extrude9 4 (new body)
    with BuildSketch(Plane(origin=(0, 100, 0), x_dir=(1, 0, 0), z_dir=(0, 1, 0))):
        with Locations((-4161.323341185, -504.743434777)):
            Rectangle(SKETCH14_W_2, SKETCH14_H)
    extrude(amount=BOSS_EXTRUDE9_4_DEPTH)


with BuildPart() as body_6:
    # Sketch16 → Boss-Extrude12 (new body)
    with BuildSketch(Plane(origin=(0, 2750, 0), x_dir=(1, 0, 0), z_dir=(0, 1, 0))):
        with Locations((-6893.619255924, -4329.743434777)):
            Rectangle(SKETCH16_W, SKETCH16_H)
    extrude(amount=-BOSS_EXTRUDE12_DEPTH)


with BuildPart() as body_7:
    # Sketch16 → Boss-Extrude12 2 (new body)
    with BuildSketch(Plane(origin=(0, 2750, 0), x_dir=(1, 0, 0), z_dir=(0, 1, 0))):
        with Locations((-3513.220082745, -4379.743434777)):
            Rectangle(SKETCH16_W, SKETCH16_H)
    extrude(amount=-BOSS_EXTRUDE12_2_DEPTH)


solid = Compound([part.part, body_2.part, body_3.part, body_4.part, body_5.part, body_6.part, body_7.part])
